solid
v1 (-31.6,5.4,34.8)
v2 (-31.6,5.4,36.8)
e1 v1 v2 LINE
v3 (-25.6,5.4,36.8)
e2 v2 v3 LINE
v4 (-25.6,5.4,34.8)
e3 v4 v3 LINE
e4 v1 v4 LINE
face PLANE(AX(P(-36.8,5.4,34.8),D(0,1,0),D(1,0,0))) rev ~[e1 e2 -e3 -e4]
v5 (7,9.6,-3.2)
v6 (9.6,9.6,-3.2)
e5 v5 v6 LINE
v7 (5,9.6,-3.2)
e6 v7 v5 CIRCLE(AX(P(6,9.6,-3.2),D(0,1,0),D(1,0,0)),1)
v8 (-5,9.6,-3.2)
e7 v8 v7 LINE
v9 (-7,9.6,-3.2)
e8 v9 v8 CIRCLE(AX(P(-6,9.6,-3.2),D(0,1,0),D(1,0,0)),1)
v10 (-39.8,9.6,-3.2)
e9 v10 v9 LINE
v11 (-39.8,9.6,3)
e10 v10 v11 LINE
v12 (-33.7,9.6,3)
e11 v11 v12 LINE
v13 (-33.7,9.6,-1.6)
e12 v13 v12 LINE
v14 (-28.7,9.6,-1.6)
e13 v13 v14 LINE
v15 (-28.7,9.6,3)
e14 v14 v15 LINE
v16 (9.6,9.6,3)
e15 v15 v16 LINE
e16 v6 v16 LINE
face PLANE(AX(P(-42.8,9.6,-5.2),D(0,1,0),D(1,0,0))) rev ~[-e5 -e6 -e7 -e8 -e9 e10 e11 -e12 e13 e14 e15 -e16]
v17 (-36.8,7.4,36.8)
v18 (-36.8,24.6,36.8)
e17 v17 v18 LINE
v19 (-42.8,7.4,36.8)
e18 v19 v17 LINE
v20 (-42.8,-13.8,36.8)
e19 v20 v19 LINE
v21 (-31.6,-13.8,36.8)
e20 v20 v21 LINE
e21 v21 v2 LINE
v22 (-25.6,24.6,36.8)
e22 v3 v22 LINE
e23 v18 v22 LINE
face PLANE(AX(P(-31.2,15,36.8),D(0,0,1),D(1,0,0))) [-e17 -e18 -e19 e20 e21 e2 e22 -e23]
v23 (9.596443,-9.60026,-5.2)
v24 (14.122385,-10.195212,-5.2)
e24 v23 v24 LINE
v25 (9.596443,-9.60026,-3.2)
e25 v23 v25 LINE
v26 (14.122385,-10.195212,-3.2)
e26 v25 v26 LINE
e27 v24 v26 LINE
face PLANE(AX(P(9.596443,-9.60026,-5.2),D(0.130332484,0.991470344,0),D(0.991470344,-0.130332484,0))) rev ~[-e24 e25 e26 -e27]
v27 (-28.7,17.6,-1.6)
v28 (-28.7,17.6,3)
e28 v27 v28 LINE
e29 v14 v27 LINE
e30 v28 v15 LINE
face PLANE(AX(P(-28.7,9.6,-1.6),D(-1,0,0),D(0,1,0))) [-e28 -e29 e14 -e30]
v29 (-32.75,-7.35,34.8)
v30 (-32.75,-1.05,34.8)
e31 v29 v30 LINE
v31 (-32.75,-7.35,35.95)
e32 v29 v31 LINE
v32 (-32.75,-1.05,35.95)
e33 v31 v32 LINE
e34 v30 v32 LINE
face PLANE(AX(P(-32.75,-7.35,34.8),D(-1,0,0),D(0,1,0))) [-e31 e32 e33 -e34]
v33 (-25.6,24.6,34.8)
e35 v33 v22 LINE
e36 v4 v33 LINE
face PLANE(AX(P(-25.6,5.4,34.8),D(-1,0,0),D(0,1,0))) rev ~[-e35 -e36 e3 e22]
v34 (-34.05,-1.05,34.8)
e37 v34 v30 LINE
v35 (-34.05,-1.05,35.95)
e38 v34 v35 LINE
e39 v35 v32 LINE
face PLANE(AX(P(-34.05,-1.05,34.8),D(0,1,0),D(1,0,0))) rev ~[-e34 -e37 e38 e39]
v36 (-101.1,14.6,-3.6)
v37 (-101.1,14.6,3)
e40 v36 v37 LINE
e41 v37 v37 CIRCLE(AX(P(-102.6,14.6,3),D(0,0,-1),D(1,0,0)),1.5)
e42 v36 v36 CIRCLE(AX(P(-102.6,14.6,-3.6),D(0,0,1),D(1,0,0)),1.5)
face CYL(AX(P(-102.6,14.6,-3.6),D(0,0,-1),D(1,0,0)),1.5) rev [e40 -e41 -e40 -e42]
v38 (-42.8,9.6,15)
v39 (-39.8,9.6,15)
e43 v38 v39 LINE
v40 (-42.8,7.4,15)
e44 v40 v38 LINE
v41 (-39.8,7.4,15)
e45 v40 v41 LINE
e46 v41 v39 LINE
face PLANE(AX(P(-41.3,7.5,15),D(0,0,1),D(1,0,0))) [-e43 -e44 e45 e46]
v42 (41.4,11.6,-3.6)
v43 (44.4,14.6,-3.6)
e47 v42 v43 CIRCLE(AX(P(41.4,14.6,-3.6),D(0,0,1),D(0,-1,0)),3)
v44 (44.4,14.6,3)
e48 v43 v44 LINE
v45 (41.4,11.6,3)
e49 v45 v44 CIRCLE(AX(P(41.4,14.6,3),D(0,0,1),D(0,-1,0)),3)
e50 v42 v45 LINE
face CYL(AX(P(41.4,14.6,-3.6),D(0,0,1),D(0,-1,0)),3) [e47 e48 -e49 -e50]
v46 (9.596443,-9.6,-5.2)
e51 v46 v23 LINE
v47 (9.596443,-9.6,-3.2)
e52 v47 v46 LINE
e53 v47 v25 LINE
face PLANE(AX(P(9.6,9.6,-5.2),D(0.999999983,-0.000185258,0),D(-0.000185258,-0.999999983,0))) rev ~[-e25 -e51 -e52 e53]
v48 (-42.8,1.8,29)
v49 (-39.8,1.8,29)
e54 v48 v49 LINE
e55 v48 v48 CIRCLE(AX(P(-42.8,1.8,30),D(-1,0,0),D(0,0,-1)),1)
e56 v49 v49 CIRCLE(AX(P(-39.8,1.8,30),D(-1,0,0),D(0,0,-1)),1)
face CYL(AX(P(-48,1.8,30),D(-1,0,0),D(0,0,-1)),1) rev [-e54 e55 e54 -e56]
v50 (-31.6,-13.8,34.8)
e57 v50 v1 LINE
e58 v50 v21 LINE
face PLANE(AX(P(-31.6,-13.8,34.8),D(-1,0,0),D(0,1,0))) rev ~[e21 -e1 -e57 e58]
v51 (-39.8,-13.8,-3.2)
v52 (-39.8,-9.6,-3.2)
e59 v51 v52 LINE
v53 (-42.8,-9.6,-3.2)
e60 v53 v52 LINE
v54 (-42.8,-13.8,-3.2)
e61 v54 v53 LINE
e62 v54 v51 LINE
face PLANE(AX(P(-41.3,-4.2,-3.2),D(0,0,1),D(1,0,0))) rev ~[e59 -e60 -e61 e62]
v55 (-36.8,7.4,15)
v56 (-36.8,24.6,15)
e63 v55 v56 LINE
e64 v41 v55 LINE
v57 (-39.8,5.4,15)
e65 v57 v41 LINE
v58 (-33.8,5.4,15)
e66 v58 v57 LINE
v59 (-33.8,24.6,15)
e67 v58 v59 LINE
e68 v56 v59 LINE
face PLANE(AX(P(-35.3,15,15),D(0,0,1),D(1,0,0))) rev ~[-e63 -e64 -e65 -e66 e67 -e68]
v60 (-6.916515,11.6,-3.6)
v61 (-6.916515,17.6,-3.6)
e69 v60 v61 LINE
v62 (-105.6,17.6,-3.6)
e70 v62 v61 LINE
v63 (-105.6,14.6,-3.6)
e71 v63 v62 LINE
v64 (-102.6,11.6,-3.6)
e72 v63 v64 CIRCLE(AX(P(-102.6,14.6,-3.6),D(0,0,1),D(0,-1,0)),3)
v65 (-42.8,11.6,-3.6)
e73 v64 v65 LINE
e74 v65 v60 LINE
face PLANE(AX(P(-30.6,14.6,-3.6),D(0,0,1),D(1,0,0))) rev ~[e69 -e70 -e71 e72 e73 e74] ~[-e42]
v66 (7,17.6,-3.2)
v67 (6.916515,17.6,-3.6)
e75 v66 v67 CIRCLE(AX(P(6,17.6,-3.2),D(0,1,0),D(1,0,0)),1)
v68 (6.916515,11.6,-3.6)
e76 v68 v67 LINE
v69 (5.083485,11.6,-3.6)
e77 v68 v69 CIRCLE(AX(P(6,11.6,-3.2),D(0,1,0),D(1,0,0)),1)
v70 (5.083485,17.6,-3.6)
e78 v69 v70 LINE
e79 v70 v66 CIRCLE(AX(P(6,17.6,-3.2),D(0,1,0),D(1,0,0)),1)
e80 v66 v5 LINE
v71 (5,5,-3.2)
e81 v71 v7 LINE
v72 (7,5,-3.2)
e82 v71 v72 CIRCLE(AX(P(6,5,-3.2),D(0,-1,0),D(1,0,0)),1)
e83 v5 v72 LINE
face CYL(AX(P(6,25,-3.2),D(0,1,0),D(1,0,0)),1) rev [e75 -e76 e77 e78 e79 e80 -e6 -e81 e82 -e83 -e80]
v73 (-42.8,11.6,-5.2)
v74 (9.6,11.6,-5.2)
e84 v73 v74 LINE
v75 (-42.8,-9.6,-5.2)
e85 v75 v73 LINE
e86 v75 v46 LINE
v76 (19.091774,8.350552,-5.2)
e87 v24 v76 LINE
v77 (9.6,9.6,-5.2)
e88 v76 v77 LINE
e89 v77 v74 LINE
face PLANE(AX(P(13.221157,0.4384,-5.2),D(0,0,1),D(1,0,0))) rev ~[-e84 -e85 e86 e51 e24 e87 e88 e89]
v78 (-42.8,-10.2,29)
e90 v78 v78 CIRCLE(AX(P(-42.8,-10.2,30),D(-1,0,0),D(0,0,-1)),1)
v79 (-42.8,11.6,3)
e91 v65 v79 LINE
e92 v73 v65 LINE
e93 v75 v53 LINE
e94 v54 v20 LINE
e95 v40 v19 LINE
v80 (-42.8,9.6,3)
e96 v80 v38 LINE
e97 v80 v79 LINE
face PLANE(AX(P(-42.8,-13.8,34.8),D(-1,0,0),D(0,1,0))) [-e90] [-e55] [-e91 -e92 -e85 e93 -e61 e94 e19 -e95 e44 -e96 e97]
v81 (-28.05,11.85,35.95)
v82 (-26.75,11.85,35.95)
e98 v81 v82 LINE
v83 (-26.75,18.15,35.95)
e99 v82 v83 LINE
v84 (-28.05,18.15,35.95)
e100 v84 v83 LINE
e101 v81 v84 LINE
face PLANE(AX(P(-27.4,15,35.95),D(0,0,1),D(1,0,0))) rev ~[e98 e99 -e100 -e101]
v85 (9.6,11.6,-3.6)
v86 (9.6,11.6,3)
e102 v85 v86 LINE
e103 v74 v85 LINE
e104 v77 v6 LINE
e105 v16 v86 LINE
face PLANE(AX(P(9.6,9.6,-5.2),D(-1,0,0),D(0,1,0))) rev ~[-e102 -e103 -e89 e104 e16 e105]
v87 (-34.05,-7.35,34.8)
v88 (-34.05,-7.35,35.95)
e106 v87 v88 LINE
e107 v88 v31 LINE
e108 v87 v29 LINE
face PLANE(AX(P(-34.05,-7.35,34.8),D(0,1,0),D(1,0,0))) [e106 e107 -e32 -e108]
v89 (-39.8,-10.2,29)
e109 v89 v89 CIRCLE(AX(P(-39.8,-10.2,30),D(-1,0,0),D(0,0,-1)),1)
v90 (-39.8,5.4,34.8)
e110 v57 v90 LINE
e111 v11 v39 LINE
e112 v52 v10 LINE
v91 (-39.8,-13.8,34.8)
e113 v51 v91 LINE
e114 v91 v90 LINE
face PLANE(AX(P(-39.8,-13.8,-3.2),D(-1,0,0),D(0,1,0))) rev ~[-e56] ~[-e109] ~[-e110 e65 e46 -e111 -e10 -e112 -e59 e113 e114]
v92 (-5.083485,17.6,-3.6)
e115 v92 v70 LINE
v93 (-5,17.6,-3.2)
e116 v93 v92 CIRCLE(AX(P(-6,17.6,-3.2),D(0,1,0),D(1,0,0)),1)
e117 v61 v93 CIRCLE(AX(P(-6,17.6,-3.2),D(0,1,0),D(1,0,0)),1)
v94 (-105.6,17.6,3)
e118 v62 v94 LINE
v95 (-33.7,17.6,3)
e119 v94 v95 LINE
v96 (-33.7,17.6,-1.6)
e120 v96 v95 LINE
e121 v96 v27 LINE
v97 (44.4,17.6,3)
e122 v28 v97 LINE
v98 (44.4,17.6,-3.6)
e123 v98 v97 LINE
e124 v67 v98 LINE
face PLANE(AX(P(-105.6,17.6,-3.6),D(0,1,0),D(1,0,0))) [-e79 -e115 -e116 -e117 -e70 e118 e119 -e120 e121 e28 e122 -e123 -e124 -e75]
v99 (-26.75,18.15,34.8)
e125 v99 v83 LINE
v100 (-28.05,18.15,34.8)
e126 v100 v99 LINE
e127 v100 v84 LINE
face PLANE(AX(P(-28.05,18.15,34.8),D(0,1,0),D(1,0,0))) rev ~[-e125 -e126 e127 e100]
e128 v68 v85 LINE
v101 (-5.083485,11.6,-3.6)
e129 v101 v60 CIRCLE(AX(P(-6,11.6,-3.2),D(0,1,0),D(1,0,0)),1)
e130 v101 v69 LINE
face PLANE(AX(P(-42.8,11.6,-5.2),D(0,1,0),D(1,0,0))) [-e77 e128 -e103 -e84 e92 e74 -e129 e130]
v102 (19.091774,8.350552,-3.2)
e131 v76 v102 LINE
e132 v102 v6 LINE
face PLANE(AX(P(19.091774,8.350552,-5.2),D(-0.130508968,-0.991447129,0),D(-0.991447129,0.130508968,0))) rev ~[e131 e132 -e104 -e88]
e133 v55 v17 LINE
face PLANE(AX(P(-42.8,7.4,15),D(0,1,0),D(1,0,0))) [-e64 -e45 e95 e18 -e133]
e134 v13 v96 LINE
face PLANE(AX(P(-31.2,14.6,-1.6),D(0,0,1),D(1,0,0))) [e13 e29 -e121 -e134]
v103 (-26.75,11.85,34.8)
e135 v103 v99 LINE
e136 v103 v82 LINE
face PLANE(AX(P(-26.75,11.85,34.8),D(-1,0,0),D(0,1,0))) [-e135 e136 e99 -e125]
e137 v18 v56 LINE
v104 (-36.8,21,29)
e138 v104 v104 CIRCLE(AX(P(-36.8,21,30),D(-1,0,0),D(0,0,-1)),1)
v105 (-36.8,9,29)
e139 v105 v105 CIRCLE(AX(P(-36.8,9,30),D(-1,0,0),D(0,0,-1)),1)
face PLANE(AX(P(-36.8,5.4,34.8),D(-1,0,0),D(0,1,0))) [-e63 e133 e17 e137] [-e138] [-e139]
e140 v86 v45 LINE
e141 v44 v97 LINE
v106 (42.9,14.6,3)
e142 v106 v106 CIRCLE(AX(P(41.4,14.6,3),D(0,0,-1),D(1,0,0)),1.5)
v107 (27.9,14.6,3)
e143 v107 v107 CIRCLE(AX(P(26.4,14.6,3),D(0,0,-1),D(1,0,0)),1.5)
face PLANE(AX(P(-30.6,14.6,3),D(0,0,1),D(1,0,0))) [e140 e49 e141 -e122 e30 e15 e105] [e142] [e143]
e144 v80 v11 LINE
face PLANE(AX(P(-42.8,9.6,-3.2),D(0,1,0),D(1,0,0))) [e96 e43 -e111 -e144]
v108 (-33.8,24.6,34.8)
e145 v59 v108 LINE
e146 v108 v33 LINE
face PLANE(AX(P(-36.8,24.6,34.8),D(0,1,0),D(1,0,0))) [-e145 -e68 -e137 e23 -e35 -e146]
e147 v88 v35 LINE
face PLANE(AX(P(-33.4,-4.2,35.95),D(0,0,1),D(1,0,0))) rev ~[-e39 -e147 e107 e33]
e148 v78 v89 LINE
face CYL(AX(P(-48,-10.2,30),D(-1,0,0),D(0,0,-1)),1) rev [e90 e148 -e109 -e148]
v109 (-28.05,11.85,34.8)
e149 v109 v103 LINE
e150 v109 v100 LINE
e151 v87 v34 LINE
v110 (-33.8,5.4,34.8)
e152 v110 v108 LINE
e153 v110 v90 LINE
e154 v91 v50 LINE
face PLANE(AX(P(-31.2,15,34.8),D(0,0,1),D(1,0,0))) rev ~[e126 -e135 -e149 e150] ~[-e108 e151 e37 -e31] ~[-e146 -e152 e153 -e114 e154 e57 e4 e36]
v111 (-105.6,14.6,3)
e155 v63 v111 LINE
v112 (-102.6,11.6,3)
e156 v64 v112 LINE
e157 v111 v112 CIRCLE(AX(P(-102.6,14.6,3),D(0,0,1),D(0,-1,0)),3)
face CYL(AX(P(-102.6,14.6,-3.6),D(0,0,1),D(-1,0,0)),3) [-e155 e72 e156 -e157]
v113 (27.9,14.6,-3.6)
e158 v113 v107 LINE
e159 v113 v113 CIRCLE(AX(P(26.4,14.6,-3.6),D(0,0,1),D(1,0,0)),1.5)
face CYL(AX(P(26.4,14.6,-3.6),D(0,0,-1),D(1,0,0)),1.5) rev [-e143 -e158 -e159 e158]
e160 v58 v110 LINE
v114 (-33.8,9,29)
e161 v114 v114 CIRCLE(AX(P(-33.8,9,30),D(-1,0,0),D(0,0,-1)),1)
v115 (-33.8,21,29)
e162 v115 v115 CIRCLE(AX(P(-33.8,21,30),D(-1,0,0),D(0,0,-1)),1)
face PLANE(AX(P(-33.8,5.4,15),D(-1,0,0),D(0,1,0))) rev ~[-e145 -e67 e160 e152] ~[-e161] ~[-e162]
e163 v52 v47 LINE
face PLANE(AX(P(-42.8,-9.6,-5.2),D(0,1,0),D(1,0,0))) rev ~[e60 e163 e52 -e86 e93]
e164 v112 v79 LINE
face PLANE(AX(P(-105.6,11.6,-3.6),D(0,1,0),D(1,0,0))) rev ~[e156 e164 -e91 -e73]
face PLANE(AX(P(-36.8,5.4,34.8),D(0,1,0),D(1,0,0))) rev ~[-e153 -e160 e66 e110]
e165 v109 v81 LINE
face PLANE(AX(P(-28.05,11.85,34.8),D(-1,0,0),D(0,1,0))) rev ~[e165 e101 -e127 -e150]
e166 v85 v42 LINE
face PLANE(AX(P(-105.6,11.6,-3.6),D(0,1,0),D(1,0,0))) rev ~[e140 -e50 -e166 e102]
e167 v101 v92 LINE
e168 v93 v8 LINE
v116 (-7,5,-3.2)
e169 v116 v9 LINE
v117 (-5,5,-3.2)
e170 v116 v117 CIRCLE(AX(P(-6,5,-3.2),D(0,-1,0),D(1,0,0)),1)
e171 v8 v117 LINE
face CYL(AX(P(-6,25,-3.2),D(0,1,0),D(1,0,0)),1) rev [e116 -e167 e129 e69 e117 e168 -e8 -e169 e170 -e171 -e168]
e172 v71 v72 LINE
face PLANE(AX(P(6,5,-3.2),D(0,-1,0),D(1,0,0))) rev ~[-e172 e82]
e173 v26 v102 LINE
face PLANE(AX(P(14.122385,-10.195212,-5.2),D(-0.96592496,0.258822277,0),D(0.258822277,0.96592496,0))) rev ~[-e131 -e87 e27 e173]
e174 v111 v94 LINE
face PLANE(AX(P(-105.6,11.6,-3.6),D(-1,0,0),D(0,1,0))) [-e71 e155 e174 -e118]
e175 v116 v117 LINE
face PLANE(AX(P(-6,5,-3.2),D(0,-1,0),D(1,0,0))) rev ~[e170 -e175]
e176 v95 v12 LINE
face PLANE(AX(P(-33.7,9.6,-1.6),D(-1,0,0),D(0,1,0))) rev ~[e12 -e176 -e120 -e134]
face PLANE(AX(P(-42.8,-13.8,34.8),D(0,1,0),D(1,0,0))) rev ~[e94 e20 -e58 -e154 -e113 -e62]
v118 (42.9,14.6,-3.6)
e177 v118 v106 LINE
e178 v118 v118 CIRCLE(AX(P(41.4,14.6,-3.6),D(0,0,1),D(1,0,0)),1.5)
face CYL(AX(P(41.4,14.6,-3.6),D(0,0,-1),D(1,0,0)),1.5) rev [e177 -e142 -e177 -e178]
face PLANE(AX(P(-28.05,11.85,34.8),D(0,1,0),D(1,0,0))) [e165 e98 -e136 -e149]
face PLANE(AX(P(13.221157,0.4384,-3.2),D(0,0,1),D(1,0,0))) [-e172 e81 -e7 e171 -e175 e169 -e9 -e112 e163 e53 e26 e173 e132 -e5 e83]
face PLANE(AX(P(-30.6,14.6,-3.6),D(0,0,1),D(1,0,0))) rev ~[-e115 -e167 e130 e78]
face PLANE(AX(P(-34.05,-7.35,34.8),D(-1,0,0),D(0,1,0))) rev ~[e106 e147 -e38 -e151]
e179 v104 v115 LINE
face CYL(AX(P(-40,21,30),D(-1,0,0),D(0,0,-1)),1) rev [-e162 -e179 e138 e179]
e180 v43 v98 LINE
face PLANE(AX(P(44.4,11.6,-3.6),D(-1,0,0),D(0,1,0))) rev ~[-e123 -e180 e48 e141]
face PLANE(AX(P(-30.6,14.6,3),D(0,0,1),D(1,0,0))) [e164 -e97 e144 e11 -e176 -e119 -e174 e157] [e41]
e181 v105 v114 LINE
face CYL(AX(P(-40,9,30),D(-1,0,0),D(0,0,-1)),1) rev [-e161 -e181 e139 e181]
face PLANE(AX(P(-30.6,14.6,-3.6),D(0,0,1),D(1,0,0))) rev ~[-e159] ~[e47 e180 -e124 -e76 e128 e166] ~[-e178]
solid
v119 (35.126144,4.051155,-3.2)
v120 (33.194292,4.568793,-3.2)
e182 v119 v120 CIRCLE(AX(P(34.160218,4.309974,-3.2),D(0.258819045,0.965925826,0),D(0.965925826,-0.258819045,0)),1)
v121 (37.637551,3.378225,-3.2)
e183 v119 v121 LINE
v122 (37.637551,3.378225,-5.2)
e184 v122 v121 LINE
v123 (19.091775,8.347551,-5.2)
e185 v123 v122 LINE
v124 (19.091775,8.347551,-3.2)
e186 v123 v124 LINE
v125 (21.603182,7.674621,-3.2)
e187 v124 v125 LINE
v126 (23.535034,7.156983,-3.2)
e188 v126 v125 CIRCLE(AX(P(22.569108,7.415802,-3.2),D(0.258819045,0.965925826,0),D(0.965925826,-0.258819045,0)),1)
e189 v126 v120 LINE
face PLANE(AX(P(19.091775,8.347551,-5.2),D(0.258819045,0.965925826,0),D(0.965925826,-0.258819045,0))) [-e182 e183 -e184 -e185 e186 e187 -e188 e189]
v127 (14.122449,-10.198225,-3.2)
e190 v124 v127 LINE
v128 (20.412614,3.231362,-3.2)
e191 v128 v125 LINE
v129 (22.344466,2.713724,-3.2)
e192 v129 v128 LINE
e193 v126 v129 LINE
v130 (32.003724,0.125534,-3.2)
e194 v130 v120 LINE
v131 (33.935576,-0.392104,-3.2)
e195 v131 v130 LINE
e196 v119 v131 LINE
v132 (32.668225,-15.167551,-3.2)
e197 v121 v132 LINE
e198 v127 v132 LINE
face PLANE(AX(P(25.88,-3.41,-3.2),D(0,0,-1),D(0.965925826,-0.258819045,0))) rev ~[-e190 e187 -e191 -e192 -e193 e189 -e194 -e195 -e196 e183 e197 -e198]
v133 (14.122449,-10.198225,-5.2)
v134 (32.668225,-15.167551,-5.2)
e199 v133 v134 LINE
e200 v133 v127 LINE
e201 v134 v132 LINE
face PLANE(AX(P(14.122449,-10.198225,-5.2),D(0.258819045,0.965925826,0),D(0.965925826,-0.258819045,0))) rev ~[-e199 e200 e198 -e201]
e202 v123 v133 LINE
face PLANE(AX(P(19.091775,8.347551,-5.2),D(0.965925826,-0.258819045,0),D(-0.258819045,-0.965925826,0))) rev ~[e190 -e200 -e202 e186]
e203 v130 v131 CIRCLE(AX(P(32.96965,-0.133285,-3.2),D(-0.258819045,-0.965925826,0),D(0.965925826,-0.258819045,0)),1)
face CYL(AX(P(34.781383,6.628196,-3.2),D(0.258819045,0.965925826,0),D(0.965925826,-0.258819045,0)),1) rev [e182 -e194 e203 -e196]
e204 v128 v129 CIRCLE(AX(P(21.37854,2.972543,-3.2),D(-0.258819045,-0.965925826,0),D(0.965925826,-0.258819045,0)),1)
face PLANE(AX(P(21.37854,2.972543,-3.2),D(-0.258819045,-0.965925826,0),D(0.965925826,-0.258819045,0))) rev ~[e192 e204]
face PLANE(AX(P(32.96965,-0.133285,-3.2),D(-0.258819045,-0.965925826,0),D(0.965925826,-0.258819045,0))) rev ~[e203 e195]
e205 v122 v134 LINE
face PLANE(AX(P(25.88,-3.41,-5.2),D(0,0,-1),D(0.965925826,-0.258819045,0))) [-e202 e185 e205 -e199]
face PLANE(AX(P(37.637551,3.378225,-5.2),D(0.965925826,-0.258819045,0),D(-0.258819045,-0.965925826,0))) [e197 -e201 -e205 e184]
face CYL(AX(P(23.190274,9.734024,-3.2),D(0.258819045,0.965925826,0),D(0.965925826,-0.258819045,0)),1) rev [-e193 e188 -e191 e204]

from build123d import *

# Parameters (mm, degrees)
RECTANGLE008_W             = 5
RECTANGLE008_H             = 10
EXTRUDE015_DEPTH           = 5.4
CYLINDER009_R              = 1
CYLINDER009_DEPTH          = 7
CYLINDER008_R              = 1
CYLINDER008_DEPTH          = 7
FUSION019_PLACEMENT_ANGLE  = 15
CYLINDER011_R              = 1
CYLINDER011_DEPTH          = 10
CYLINDER010_R              = 1
CYLINDER010_DEPTH          = 10
CYLINDER013_R              = 1
CYLINDER013_DEPTH          = 10
CYLINDER012_R              = 1
CYLINDER012_DEPTH          = 10
CYLINDER007_R              = 1
CYLINDER007_DEPTH          = 20
CYLINDER006_R              = 1
CYLINDER006_DEPTH          = 20
BOX011_W                   = 52.4
BOX011_H                   = 2
BOX011_DEPTH               = 8.2
EXTRUDE012_DEPTH           = 2
RECTANGLE006_W             = 19.2
RECTANGLE006_H             = 19.2
EXTRUDE013_DEPTH           = 2
EXTRUDE013_PLACEMENT_ANGLE = 15
BOX010_W                   = 52.4
BOX010_H                   = 19.2
BOX010_DEPTH               = 2
CYLINDER004_R              = 1.5
CYLINDER004_DEPTH          = 10
CYLINDER005_R              = 1.5
CYLINDER005_DEPTH          = 10
CYLINDER003_R              = 1.5
CYLINDER003_DEPTH          = 10
RECTANGLE007_W             = 150
RECTANGLE007_H             = 6
EXTRUDE014_DEPTH           = 6.6
FILLET001_R                = 3
BOX009_W                   = 6
BOX009_H                   = 2
BOX009_DEPTH               = 21.8
BOX008_W                   = 1.3
BOX008_H                   = 6.3
BOX008_DEPTH               = 1.15
BOX007_W                   = 11.2
BOX007_H                   = 19.2
BOX007_DEPTH               = 2
BOX006_W                   = 3
BOX006_H                   = 19.2
BOX006_DEPTH               = 38
BOX004_W                   = 1.3
BOX004_H                   = 6.3
BOX004_DEPTH               = 1.15
BOX003_W                   = 11.2
BOX003_H                   = 19.2
BOX003_DEPTH               = 2
BOX001_W                   = 3
BOX001_H                   = 19.2
BOX001_DEPTH               = 19.8
BOX014_W                   = 3
BOX014_H                   = 4.2
BOX014_DEPTH               = 18.2


with BuildPart() as extrude016:
    # Rectangle008 → Extrude015 (new body)
    with BuildSketch(Plane(origin=(-33.7, 9.6, 8.4), x_dir=(1, 0, 0), z_dir=(0, 0, 1))):
        with Locations((2.5, 5)):
            Rectangle(RECTANGLE008_W, RECTANGLE008_H)
    extrude(amount=EXTRUDE015_DEPTH)


with BuildPart() as extrude016_1:
    # Extrude015 placement: moved
    add(extrude016.part.moved(Location((0, 0, -10))))


with BuildPart() as cylinder009:
    # Cylinder009 → Cylinder009 (new body)
    with BuildSketch(Plane(origin=(-6, 12, -3.2), x_dir=(1, 0, 0), z_dir=(0, -1, 0))):
        Circle(CYLINDER009_R)
    extrude(amount=CYLINDER009_DEPTH)


with BuildPart() as fusion021:
    # Cylinder008 → Cylinder008 (new body)
    with BuildSketch(Plane(origin=(6, 12, -3.2), x_dir=(1, 0, 0), z_dir=(0, -1, 0))):
        Circle(CYLINDER008_R)
    extrude(amount=CYLINDER008_DEPTH)

    # Fusion019: union Cylinder009
    add(cylinder009.part)


with BuildPart() as fusion021_1:
    # Fusion019 placement: moved
    add(fusion021.part.moved(Location((25.88, -3.41, 0))).rotate(Axis((25.88, -3.41, 0), (0, 0, -1)), FUSION019_PLACEMENT_ANGLE))


with BuildPart() as cylinder011:
    # Cylinder011 → Cylinder011 (new body)
    with BuildSketch(Plane(origin=(0, -6, 0), x_dir=(0, 0, -1), z_dir=(1, 0, 0))):
        Circle(CYLINDER011_R)
    extrude(amount=CYLINDER011_DEPTH)


with BuildPart() as fusion022:
    # Cylinder010 → Cylinder010 (new body)
    with BuildSketch(Plane(origin=(0, 6, 0), x_dir=(0, 0, -1), z_dir=(1, 0, 0))):
        Circle(CYLINDER010_R)
    extrude(amount=CYLINDER010_DEPTH)

    # Fusion020: union Cylinder011
    add(cylinder011.part)


with BuildPart() as fusion022_1:
    # Fusion020 placement: moved
    add(fusion022.part.moved(Location((-40, 15, 30))))


with BuildPart() as cylinder013:
    # Cylinder013 → Cylinder013 (new body)
    with BuildSketch(Plane(origin=(0, -6, 0), x_dir=(0, 0, -1), z_dir=(1, 0, 0))):
        Circle(CYLINDER013_R)
    extrude(amount=CYLINDER013_DEPTH)


with BuildPart() as fusion023:
    # Cylinder012 → Cylinder012 (new body)
    with BuildSketch(Plane(origin=(0, 6, 0), x_dir=(0, 0, -1), z_dir=(1, 0, 0))):
        Circle(CYLINDER012_R)
    extrude(amount=CYLINDER012_DEPTH)

    # Fusion021: union Cylinder013
    add(cylinder013.part)


with BuildPart() as fusion023_1:
    # Fusion021 placement: moved
    add(fusion023.part.moved(Location((-48, -4.2, 30))))


with BuildPart() as cylinder007:
    # Cylinder007 → Cylinder007 (new body)
    with BuildSketch(Plane(origin=(-6, 25, -3.2), x_dir=(1, 0, 0), z_dir=(0, -1, 0))):
        Circle(CYLINDER007_R)
    extrude(amount=CYLINDER007_DEPTH)


with BuildPart() as fusion024:
    # Cylinder006 → Cylinder006 (new body)
    with BuildSketch(Plane(origin=(6, 25, -3.2), x_dir=(1, 0, 0), z_dir=(0, -1, 0))):
        Circle(CYLINDER006_R)
    extrude(amount=CYLINDER006_DEPTH)

    # Fusion018: union Cylinder007
    add(cylinder007.part)

    # Fusion022: union Fusion021, Fusion022, Fusion023
    add(fusion021_1.part)
    add(fusion022_1.part)
    add(fusion023_1.part)


with BuildPart() as cube013:
    # Box011 → Box011 (new body)
    with BuildSketch(Plane(origin=(-42.8, 9.6, -5.2), x_dir=(1, 0, 0), z_dir=(0, 0, 1))):
        with Locations((26.2, 1)):
            Rectangle(BOX011_W, BOX011_H)
    extrude(amount=BOX011_DEPTH)


with BuildPart() as extrude012:
    # Wire001 → Extrude012 (new body)
    with BuildSketch(Plane(origin=(9.596443, -9.60026, 0), x_dir=(1, 0, 0), z_dir=(0, 0, 1))):
        Polygon((0, 0), (4.525942, -0.594952), (9.495331, 17.950812), (0.003557, 19.20026), align=None)
    extrude(amount=EXTRUDE012_DEPTH)


with BuildPart() as extrude012_1:
    # Extrude012 placement: moved
    add(extrude012.part.moved(Location((0, 0, -5.2))))


with BuildPart() as extrude014:
    # Rectangle006 → Extrude013 (new body)
    with BuildSketch(Plane(origin=(-9.6, 9.6, -5.2), x_dir=(1, 0, 0), z_dir=(0, 0, -1))):
        with Locations((9.6, 9.6)):
            Rectangle(RECTANGLE006_W, RECTANGLE006_H)
    extrude(amount=-EXTRUDE013_DEPTH)


with BuildPart() as extrude014_1:
    # Extrude013 placement: moved
    add(extrude014.part.moved(Location((25.88, -3.41, 0))).rotate(Axis((25.88, -3.41, 0), (0, 0, -1)), EXTRUDE013_PLACEMENT_ANGLE))


with BuildPart() as fusion014:
    # Box010 → Box010 (new body)
    with BuildSketch(Plane(origin=(-42.8, -9.6, -5.2), x_dir=(1, 0, 0), z_dir=(0, 0, 1))):
        with Locations((26.2, 9.6)):
            Rectangle(BOX010_W, BOX010_H)
    extrude(amount=BOX010_DEPTH)

    # Fusion013: union Extrude012, Extrude014
    add(extrude012_1.part)
    add(extrude014_1.part)


with BuildPart() as cylinder004:
    # Cylinder004 → Cylinder004 (new body)
    with BuildSketch(Plane(origin=(26.4, 12.6, 5), x_dir=(1, 0, 0), z_dir=(0, 0, 1))):
        Circle(CYLINDER004_R)
    extrude(amount=CYLINDER004_DEPTH)


with BuildPart() as cylinder005:
    # Cylinder005 → Cylinder005 (new body)
    with BuildSketch(Plane(origin=(11.4, 12.6, 5), x_dir=(1, 0, 0), z_dir=(0, 0, 1))):
        Circle(CYLINDER005_R)
    extrude(amount=CYLINDER005_DEPTH)


with BuildPart() as fusion008:
    # Cylinder003 → Cylinder003 (new body)
    with BuildSketch(Plane(origin=(-117.6, 12.6, 5), x_dir=(1, 0, 0), z_dir=(0, 0, 1))):
        Circle(CYLINDER003_R)
    extrude(amount=CYLINDER003_DEPTH)

    # Fusion008: union Cylinder004, Cylinder005
    add(cylinder004.part)
    add(cylinder005.part)


with BuildPart() as cut013:
    # Rectangle007 → Extrude014 (new body)
    with BuildSketch(Plane(origin=(-120.6, 9.6, 5), x_dir=(1, 0, 0), z_dir=(0, 0, 1))):
        with Locations((75, 3)):
            Rectangle(RECTANGLE007_W, RECTANGLE007_H)
    extrude(amount=EXTRUDE014_DEPTH)

    # Fillet001
    fillet001_edges = [cut013.edges().sort_by_distance(p)[0] for p in [
        (-120.6, 9.6, 8.3),
        (29.4, 9.6, 8.3),
    ]]
    fillet(fillet001_edges, radius=FILLET001_R)

    # Cut004: cut Fusion008
    add(fusion008.part, mode=Mode.SUBTRACT)


with BuildPart() as cut013_1:
    # Cut004 placement: moved
    add(cut013.part.moved(Location((15, 2, -8.6))))


with BuildPart() as cube009:
    # Box009 → Box009 (new body)
    with BuildSketch(Plane(origin=(-42.8, 5.4, 15), x_dir=(1, 0, 0), z_dir=(0, 0, 1))):
        with Locations((3, 1)):
            Rectangle(BOX009_W, BOX009_H)
    extrude(amount=BOX009_DEPTH)


with BuildPart() as cube008:
    # Box008 → Box008 (new body)
    with BuildSketch(Plane(origin=(-28.05, 11.85, 34.2), x_dir=(1, 0, 0), z_dir=(0, 0, 1))):
        with Locations((0.65, 3.15)):
            Rectangle(BOX008_W, BOX008_H)
    extrude(amount=BOX008_DEPTH)


with BuildPart() as cut012:
    # Box007 → Box007 (new body)
    with BuildSketch(Plane(origin=(-36.8, 5.4, 34.2), x_dir=(1, 0, 0), z_dir=(0, 0, 1))):
        with Locations((5.6, 9.6)):
            Rectangle(BOX007_W, BOX007_H)
    extrude(amount=BOX007_DEPTH)

    # Cut003: cut Cube008
    add(cube008.part, mode=Mode.SUBTRACT)


with BuildPart() as fusion007:
    # Box006 → Box006 (new body)
    with BuildSketch(Plane(origin=(-36.8, 5.4, -3.8), x_dir=(1, 0, 0), z_dir=(0, 0, 1))):
        with Locations((1.5, 9.6)):
            Rectangle(BOX006_W, BOX006_H)
    extrude(amount=BOX006_DEPTH)

    # Fusion007: union Cut012
    add(cut012.part)


with BuildPart() as fusion007_1:
    # Fusion007 placement: moved
    add(fusion007.part.moved(Location((-6, -19.2, 0.6))))


with BuildPart() as cube004:
    # Box004 → Box004 (new body)
    with BuildSketch(Plane(origin=(-28.05, 11.85, 34.2), x_dir=(1, 0, 0), z_dir=(0, 0, 1))):
        with Locations((0.65, 3.15)):
            Rectangle(BOX004_W, BOX004_H)
    extrude(amount=BOX004_DEPTH)


with BuildPart() as cut011:
    # Box003 → Box003 (new body)
    with BuildSketch(Plane(origin=(-36.8, 5.4, 34.2), x_dir=(1, 0, 0), z_dir=(0, 0, 1))):
        with Locations((5.6, 9.6)):
            Rectangle(BOX003_W, BOX003_H)
    extrude(amount=BOX003_DEPTH)

    # Cut002: cut Cube004
    add(cube004.part, mode=Mode.SUBTRACT)


with BuildPart() as fusion006:
    # Box001 → Box001 (new body)
    with BuildSketch(Plane(origin=(-36.8, 5.4, 14.4), x_dir=(1, 0, 0), z_dir=(0, 0, 1))):
        with Locations((1.5, 9.6)):
            Rectangle(BOX001_W, BOX001_H)
    extrude(amount=BOX001_DEPTH)

    # Fusion006: union Cut011
    add(cut011.part)


with BuildPart() as fusion006_1:
    # Fusion006 placement: moved
    add(fusion006.part.moved(Location((0, 0, 0.6))))


with BuildPart() as cut017:
    # Box014 → Box014 (new body)
    with BuildSketch(Plane(origin=(-42.8, 5.4, -3.2), x_dir=(1, 0, 0), z_dir=(0, 0, 1))):
        with Locations((1.5, 2.1)):
            Rectangle(BOX014_W, BOX014_H)
    extrude(amount=BOX014_DEPTH)

    # Fusion024: union Cube013, Fusion014, Cut013, Cube009, Fusion007, Fusion006
    add(cube013.part)
    add(fusion014.part)
    add(cut013_1.part)
    add(cube009.part)
    add(fusion007_1.part)
    add(fusion006_1.part)

    # Cut005: cut Fusion024
    add(fusion024.part, mode=Mode.SUBTRACT)

    # Cut008: cut Extrude016
    add(extrude016_1.part, mode=Mode.SUBTRACT)


solid = cut017.part
